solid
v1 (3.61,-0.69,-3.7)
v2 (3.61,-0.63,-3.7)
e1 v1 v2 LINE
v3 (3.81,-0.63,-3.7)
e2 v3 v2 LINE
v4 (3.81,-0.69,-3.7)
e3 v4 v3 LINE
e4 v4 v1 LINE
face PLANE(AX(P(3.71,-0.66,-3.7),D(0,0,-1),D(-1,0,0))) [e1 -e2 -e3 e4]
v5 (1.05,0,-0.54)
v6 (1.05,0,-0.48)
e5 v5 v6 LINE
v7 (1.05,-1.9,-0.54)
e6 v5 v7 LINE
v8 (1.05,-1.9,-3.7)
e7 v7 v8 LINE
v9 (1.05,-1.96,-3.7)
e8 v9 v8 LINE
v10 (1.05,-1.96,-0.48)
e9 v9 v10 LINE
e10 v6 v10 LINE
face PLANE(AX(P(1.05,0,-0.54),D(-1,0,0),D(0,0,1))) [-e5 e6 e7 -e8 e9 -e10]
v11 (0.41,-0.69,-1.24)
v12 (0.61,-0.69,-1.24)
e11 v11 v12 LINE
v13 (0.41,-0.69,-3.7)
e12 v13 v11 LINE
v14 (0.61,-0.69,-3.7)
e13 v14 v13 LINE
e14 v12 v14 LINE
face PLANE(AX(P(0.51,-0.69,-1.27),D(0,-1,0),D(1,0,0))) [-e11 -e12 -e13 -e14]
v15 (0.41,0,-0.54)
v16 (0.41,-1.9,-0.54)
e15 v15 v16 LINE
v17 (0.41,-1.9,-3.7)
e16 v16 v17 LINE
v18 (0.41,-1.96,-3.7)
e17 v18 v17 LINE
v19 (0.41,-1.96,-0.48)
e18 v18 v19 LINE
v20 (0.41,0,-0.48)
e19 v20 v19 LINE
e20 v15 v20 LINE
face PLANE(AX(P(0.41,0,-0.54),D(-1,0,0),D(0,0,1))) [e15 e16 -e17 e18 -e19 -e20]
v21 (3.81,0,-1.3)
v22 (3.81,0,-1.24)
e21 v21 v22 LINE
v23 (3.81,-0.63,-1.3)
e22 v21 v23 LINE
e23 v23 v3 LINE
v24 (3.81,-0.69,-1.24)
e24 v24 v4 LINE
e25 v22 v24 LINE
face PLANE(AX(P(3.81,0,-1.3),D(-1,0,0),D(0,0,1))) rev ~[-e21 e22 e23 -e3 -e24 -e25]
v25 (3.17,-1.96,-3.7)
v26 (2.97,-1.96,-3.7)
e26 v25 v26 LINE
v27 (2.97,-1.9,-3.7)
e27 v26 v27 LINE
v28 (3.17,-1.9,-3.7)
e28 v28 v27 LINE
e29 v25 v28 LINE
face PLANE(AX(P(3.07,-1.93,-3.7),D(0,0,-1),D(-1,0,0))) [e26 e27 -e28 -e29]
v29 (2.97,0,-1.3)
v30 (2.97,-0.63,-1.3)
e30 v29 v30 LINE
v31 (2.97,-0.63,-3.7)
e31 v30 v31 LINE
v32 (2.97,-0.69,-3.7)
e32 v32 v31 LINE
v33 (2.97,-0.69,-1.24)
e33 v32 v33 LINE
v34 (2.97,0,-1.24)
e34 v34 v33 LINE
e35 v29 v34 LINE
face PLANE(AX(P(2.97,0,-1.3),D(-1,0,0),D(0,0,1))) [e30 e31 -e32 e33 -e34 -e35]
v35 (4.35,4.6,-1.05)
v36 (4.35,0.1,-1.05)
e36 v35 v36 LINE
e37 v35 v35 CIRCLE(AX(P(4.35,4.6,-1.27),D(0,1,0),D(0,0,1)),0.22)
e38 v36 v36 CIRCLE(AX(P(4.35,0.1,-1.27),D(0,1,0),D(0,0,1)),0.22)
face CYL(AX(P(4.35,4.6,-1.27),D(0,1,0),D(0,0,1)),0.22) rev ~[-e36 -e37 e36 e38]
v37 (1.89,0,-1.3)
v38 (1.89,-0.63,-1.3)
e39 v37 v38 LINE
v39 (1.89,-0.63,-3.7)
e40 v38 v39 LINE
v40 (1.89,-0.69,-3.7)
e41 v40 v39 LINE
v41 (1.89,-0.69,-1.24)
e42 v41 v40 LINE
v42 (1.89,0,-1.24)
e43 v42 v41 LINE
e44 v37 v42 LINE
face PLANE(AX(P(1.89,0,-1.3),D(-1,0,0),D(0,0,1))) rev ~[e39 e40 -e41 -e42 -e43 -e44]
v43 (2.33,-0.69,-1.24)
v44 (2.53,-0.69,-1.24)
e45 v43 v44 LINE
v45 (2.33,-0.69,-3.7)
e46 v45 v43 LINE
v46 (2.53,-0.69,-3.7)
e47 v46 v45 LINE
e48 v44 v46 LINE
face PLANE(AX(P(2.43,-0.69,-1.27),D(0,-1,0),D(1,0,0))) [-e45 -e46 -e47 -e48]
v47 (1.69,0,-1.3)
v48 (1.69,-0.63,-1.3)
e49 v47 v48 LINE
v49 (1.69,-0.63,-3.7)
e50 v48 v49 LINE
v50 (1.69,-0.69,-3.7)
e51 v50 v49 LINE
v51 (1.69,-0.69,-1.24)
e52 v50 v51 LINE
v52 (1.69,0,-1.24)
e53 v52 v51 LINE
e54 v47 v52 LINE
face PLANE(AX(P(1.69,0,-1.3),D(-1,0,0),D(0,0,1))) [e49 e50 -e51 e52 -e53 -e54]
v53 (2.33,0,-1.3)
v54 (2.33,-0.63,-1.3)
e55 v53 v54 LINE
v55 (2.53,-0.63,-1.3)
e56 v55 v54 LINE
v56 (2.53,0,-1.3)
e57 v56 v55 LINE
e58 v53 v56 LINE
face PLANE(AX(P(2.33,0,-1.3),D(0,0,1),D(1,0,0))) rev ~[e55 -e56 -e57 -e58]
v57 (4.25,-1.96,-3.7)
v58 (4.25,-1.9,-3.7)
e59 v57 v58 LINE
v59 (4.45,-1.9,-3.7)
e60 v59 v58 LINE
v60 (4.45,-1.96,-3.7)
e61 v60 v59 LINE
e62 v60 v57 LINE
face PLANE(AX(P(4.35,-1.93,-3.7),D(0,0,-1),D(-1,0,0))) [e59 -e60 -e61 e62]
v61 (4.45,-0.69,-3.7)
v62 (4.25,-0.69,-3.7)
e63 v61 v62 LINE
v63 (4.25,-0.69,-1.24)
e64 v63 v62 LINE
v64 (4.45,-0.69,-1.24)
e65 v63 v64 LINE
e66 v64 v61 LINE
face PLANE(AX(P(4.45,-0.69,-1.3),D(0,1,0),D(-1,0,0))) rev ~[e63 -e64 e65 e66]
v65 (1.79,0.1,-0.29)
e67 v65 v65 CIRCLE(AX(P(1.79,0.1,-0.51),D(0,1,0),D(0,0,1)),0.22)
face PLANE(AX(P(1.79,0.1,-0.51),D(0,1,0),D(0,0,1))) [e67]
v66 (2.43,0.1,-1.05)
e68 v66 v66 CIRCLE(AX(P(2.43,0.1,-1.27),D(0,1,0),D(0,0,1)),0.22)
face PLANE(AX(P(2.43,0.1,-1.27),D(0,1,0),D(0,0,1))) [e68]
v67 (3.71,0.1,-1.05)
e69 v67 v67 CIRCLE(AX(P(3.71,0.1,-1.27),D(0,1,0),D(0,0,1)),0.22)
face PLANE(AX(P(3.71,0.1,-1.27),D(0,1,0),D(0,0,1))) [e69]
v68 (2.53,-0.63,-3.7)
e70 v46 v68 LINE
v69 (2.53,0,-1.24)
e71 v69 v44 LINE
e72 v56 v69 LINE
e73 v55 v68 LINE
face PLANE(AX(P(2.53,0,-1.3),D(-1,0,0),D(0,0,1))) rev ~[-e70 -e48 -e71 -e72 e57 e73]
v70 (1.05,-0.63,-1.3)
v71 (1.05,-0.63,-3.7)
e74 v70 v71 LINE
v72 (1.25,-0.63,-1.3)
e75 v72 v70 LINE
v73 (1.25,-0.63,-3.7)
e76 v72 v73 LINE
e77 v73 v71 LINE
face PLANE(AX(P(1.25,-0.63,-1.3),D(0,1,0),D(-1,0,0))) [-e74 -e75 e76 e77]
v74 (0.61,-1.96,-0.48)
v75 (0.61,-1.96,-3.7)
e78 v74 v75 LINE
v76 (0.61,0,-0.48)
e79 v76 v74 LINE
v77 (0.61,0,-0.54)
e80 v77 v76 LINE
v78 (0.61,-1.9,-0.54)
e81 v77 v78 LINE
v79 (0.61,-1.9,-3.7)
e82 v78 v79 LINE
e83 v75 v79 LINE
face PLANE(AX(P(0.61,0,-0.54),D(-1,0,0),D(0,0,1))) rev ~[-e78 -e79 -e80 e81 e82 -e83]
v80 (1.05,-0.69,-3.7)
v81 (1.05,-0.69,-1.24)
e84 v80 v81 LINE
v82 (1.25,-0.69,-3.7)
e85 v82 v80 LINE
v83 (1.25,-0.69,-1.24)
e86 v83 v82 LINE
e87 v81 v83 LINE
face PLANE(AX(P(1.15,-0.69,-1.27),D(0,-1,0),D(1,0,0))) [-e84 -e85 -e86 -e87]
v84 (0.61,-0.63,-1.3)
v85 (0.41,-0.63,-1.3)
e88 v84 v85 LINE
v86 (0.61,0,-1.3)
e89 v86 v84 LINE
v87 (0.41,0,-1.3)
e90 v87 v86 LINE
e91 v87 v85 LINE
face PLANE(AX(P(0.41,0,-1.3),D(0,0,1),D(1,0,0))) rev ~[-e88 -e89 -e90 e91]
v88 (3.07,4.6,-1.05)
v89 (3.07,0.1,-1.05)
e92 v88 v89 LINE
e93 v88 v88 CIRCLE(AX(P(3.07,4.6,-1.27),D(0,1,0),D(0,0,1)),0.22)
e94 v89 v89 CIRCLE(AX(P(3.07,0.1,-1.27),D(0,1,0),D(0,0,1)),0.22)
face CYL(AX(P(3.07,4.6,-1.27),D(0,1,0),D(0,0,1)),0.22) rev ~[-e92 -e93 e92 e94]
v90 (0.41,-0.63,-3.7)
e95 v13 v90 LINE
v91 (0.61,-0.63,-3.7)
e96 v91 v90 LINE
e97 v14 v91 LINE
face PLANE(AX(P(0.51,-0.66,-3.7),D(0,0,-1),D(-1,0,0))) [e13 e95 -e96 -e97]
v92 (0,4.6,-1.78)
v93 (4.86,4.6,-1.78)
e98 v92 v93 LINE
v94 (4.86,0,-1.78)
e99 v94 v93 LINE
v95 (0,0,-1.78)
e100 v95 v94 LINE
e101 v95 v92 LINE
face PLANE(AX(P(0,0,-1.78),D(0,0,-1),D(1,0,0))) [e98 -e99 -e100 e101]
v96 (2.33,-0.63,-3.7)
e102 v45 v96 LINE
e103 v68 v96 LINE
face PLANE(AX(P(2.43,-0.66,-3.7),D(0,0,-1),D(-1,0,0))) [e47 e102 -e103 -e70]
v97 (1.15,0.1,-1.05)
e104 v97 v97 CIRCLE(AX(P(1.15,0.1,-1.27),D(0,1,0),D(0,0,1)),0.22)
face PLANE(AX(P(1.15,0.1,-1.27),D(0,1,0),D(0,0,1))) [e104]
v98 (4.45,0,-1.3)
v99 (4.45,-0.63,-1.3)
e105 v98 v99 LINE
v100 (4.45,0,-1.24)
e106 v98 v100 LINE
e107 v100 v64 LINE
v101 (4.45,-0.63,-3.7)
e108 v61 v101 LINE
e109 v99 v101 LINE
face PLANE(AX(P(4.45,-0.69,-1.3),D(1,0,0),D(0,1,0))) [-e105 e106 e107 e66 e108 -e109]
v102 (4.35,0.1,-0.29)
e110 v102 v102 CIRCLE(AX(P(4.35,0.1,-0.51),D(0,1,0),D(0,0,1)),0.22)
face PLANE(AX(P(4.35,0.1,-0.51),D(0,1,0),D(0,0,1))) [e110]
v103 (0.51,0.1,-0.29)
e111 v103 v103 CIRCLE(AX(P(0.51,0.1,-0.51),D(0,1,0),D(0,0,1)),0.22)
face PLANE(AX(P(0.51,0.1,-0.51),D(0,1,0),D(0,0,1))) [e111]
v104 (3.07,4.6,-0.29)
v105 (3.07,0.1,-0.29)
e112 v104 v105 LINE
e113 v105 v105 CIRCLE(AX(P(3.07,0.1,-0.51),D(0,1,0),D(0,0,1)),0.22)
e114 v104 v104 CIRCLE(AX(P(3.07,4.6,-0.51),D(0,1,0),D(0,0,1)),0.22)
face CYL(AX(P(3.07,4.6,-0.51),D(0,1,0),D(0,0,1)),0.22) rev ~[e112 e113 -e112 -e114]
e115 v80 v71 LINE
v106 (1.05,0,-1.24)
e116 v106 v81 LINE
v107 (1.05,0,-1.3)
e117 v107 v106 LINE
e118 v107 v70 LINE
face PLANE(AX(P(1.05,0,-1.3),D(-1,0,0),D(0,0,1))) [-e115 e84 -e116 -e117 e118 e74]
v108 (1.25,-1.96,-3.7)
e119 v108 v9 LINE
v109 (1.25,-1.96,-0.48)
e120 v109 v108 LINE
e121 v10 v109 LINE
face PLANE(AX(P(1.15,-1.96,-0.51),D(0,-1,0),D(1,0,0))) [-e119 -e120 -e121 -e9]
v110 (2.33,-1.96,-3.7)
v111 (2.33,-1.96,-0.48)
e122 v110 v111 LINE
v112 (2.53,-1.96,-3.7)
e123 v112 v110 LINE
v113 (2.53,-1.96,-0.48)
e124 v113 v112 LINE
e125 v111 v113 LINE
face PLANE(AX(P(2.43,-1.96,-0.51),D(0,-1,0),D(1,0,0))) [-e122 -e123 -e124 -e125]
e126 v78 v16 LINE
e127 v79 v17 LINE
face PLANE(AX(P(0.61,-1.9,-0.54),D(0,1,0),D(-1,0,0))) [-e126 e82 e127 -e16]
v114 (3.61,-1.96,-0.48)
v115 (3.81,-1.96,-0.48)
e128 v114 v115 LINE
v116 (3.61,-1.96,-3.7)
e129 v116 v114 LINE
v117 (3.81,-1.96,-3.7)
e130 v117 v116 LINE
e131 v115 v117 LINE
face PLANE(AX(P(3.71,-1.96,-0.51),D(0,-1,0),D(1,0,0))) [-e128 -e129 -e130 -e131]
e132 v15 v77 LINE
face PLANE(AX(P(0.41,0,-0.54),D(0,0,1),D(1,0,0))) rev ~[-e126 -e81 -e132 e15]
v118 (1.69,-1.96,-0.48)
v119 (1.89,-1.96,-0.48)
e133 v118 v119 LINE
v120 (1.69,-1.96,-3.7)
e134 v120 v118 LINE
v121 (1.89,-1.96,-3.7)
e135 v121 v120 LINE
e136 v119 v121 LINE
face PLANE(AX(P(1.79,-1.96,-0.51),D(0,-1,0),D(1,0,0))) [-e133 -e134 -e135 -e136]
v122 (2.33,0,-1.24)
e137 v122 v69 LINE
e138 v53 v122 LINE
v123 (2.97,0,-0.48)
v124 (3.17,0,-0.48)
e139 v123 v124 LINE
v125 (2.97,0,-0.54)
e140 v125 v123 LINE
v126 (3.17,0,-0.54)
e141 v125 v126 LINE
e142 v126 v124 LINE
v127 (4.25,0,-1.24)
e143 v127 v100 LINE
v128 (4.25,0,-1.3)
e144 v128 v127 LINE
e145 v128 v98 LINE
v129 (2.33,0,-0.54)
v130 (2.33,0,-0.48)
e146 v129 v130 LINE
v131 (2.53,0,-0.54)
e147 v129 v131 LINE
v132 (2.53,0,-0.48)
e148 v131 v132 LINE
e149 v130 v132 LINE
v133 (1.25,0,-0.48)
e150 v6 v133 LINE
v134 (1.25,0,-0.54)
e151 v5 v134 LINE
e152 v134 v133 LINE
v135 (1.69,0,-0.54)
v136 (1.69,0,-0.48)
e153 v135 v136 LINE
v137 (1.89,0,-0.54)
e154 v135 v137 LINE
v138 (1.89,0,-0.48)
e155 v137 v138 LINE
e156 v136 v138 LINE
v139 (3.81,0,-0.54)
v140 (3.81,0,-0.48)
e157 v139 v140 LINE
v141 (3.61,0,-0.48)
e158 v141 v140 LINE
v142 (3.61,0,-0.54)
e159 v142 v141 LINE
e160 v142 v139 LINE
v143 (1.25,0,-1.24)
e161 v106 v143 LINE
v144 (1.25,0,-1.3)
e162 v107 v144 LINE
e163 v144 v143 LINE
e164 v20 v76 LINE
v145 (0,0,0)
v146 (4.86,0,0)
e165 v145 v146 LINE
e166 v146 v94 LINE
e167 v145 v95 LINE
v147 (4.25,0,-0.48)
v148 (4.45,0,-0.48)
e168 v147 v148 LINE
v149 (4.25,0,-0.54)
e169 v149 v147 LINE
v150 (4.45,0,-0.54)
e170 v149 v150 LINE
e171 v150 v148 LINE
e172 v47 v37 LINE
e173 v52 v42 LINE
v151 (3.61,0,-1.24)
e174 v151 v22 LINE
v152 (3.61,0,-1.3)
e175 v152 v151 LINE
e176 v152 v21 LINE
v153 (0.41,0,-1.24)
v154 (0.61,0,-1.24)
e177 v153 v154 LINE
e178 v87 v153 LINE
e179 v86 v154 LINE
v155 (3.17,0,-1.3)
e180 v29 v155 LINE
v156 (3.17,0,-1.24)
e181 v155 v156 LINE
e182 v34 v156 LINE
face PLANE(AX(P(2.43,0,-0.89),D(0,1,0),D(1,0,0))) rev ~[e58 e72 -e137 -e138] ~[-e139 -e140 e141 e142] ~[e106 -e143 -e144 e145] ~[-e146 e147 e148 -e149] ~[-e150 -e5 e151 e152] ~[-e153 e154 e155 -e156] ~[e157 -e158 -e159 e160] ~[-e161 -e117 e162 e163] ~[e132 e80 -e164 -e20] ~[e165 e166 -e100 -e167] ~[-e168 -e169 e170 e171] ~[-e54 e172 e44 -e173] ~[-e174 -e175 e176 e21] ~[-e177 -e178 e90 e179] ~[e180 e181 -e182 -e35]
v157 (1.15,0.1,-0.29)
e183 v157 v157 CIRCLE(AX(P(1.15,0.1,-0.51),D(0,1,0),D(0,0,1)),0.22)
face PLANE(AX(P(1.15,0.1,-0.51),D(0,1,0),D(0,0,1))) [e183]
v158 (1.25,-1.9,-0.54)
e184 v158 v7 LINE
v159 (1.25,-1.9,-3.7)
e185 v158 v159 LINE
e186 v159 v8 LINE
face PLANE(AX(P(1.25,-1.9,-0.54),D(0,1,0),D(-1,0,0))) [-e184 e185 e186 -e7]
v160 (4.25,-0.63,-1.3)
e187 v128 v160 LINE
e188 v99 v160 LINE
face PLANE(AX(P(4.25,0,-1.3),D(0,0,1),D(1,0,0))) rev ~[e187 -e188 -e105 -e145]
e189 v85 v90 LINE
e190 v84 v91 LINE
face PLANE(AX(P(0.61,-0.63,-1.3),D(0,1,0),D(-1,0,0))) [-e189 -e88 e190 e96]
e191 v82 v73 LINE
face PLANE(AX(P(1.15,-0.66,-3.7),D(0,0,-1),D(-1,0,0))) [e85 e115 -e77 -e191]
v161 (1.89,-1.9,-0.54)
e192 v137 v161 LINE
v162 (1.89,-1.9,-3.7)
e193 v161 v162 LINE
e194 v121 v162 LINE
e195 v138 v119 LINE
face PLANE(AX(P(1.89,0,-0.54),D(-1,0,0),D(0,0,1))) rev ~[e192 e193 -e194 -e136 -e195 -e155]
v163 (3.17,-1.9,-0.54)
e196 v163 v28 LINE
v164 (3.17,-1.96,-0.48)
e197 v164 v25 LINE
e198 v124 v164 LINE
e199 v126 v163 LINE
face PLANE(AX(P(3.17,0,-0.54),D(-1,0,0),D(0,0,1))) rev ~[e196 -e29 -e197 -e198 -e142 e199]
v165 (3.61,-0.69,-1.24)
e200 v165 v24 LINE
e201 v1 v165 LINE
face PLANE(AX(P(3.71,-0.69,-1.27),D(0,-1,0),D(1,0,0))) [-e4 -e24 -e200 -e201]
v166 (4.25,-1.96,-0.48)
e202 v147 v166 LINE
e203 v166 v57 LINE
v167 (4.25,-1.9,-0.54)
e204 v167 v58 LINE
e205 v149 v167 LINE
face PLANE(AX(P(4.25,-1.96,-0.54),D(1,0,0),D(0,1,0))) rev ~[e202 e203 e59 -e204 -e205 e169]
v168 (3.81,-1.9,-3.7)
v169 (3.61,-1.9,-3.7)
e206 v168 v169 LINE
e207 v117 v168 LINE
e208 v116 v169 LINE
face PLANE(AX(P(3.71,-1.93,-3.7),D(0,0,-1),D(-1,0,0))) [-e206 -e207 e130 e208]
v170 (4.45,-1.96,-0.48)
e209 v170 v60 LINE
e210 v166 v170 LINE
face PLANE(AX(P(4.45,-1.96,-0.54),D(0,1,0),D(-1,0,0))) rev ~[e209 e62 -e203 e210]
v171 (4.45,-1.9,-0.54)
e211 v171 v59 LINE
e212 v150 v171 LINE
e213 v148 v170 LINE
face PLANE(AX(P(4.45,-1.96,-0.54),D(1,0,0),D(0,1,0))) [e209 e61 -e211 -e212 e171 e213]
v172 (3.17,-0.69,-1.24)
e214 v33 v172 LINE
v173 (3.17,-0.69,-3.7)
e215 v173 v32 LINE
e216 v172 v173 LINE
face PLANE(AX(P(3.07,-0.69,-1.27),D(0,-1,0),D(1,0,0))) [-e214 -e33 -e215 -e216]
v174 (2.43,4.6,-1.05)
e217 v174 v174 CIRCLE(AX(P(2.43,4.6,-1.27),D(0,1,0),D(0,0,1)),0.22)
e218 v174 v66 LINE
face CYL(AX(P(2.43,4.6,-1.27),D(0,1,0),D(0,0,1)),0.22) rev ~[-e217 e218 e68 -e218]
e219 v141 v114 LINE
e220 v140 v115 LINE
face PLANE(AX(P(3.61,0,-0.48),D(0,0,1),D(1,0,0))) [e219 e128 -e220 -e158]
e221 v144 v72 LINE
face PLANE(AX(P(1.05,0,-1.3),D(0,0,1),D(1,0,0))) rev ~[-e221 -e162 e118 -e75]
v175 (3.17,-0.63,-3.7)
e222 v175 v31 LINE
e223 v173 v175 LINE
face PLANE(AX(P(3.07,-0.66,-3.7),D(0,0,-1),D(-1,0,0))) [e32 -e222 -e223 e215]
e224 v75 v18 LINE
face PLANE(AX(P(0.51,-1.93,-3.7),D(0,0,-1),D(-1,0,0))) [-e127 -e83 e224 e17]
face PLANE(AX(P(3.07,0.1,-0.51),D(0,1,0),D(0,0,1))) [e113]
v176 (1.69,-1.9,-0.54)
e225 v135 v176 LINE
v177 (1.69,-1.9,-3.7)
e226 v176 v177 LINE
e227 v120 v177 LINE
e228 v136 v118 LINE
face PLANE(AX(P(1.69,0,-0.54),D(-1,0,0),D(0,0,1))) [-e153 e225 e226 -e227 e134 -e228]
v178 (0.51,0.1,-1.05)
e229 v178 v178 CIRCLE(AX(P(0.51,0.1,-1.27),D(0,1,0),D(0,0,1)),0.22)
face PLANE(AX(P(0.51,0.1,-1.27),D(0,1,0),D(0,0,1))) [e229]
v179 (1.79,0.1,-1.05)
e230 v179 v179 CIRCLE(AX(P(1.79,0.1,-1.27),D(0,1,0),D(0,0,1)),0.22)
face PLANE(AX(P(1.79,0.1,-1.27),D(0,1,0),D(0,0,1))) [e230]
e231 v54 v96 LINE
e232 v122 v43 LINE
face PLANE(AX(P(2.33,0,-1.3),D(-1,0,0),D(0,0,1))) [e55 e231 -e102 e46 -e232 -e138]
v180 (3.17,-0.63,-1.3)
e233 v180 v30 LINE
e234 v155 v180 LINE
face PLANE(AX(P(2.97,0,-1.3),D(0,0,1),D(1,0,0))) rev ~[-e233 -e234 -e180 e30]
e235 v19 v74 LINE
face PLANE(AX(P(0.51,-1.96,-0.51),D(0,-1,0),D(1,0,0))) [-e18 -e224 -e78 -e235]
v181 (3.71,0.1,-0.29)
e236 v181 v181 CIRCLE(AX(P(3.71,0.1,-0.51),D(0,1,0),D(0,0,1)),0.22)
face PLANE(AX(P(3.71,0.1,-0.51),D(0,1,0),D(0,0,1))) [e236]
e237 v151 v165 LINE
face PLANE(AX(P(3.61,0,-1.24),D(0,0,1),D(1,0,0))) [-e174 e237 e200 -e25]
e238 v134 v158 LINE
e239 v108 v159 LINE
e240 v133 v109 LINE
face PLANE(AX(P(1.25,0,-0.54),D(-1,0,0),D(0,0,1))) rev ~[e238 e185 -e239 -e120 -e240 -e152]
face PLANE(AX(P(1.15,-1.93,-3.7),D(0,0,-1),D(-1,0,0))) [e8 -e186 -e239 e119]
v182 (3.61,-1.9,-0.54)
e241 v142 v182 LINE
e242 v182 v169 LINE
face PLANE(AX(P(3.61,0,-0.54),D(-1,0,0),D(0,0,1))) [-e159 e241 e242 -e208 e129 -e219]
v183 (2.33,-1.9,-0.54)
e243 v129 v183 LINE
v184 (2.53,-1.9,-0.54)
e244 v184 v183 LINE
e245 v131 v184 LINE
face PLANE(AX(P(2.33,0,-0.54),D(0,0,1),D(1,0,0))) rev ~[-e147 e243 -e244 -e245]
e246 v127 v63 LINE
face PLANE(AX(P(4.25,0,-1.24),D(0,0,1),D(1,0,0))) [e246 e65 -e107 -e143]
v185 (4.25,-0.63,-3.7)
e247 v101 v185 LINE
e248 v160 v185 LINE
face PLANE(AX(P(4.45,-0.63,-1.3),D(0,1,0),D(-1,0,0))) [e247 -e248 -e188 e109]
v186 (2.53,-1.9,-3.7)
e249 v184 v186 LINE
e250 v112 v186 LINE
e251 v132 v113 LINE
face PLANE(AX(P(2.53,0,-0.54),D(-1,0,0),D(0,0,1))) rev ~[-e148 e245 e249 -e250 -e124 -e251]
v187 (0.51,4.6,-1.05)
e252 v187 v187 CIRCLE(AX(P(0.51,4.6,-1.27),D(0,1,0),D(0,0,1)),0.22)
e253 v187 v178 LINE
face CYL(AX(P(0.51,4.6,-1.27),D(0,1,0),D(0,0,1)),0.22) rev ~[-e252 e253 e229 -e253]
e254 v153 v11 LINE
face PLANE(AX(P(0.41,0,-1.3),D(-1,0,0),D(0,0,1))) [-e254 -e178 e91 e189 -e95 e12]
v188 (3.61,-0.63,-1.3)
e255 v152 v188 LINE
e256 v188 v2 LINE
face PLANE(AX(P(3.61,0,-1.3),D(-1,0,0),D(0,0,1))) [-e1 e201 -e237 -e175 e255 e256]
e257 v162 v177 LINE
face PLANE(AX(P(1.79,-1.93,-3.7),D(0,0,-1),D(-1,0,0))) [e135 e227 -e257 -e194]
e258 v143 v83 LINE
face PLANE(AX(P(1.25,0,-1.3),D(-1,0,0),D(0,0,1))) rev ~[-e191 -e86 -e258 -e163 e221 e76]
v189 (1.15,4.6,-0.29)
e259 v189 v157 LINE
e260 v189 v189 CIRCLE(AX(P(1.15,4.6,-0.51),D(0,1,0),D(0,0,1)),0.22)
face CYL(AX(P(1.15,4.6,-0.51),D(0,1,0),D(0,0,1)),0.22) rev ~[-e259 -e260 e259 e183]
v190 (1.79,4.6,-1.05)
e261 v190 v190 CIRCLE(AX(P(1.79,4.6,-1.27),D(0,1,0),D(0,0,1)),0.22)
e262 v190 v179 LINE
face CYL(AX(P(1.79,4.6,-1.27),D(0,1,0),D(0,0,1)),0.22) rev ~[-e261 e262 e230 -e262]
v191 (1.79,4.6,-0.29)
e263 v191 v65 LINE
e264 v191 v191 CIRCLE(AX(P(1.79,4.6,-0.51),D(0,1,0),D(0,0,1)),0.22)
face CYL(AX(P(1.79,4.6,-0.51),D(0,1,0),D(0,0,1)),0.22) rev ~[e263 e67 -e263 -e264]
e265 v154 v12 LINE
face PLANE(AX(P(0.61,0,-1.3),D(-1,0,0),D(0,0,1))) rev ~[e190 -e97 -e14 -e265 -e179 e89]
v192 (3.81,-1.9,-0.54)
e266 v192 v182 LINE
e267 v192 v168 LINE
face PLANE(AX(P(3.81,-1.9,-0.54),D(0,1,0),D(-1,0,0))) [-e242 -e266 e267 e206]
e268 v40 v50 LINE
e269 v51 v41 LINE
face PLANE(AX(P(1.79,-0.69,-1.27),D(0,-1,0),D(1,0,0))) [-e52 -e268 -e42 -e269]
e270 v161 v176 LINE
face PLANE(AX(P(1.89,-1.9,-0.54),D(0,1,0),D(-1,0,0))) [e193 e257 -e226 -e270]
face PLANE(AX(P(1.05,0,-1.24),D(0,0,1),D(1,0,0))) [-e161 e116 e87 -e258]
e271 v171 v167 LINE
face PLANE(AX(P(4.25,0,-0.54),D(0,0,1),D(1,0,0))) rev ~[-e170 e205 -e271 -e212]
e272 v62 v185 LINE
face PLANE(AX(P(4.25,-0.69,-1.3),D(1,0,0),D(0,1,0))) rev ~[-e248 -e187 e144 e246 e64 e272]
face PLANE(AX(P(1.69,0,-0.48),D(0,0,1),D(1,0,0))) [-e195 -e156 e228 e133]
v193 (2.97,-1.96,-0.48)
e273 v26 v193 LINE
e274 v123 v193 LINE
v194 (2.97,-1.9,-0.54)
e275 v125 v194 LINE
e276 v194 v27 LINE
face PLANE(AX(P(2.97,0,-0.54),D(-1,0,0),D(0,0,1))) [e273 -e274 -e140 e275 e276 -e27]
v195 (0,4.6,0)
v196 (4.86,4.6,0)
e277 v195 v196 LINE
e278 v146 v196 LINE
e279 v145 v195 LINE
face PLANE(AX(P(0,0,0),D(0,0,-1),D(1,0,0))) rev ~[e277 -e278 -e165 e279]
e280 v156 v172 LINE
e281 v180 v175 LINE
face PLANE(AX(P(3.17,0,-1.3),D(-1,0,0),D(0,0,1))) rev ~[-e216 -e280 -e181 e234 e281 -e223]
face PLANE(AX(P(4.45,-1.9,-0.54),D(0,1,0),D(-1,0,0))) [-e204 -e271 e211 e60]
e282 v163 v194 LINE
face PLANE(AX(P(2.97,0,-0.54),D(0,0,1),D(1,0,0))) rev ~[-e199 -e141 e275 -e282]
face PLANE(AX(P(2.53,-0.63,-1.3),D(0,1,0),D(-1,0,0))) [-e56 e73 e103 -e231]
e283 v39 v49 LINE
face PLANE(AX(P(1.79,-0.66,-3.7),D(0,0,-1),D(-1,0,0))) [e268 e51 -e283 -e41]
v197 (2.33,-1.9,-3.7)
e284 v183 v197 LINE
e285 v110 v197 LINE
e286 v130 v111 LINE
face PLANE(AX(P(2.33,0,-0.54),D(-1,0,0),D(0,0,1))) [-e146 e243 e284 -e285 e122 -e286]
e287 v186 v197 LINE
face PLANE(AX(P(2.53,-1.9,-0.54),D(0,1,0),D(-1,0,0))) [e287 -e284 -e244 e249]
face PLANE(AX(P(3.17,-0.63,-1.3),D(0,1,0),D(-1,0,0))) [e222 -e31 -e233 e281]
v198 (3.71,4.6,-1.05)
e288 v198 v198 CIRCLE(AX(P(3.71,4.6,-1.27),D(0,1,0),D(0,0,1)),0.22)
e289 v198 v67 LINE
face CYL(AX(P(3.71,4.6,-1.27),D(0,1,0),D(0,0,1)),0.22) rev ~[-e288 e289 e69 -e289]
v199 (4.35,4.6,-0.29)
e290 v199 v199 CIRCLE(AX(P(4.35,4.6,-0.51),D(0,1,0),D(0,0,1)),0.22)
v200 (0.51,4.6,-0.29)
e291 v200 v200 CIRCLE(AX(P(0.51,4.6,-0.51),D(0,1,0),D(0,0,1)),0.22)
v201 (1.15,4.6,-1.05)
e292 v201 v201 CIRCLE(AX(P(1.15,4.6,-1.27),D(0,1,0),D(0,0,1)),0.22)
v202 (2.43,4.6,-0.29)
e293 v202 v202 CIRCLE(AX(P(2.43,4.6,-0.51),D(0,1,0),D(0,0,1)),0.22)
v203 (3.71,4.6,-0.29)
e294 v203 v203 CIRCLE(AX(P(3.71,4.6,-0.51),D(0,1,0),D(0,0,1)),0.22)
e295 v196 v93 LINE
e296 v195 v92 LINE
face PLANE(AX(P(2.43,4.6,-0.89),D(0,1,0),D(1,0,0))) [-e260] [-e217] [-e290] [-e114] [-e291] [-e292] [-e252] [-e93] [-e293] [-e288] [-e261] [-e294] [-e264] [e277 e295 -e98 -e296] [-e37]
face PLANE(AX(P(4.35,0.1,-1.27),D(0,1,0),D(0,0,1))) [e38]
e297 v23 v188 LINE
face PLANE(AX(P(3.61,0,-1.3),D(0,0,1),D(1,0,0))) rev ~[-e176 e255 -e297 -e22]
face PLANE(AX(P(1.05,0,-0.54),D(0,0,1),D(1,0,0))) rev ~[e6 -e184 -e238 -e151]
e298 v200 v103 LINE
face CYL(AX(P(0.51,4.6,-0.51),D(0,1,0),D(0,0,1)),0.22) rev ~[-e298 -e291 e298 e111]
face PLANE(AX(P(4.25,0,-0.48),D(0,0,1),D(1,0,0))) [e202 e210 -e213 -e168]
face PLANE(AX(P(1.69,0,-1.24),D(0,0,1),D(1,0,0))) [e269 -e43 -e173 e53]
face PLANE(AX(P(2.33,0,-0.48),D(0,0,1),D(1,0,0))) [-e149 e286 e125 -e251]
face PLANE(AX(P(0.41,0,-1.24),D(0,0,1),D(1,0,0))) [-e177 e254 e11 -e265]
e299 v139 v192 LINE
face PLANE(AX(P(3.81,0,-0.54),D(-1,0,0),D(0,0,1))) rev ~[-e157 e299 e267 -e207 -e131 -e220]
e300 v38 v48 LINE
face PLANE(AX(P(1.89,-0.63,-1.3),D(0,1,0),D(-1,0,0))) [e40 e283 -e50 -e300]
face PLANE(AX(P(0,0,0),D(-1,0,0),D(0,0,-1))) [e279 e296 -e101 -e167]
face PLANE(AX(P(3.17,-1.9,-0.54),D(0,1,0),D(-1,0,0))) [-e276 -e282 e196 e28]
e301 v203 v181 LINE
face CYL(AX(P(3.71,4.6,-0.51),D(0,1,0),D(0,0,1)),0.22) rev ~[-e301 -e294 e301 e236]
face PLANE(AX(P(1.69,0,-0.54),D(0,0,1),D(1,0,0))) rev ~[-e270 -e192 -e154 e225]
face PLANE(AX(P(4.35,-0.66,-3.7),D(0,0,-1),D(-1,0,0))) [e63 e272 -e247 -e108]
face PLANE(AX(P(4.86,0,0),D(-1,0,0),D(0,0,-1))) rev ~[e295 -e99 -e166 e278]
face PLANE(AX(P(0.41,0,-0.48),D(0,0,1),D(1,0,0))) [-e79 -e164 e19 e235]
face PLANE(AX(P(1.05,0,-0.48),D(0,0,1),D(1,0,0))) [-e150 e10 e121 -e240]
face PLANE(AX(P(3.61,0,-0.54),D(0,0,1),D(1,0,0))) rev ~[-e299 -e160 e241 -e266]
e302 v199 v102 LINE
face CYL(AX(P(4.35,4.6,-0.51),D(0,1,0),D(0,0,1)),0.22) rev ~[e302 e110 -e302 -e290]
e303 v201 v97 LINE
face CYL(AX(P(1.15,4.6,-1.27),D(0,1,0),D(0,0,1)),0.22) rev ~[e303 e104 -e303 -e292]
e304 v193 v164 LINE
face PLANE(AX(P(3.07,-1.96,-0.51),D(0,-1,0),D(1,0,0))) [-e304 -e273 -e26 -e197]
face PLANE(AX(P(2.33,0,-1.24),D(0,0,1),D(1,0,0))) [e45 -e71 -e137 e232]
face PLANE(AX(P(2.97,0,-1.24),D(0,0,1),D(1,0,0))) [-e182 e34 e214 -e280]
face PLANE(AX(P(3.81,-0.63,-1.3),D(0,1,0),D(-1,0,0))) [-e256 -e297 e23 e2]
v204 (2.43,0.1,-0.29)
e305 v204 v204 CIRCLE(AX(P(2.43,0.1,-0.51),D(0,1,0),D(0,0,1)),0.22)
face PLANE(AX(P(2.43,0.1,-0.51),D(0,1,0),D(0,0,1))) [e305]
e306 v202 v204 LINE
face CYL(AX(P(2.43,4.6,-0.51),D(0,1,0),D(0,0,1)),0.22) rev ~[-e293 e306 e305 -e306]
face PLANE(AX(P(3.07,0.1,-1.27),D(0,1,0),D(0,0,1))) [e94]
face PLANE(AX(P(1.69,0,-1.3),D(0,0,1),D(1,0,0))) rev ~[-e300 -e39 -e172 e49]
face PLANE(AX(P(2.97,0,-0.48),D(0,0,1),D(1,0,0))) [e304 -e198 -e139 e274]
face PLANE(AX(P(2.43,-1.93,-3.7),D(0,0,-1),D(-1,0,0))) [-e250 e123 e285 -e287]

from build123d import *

# Parameters (mm, degrees)
SKETCH2_W           = 4.86
SKETCH2_H           = 1.78
BOSS_EXTRUDE1_DEPTH = 4.6
SKETCH3_R           = 0.22
CUT_EXTRUDE1_DEPTH  = 4.5
SKETCH4_W           = 0.2
SKETCH4_H           = 0.06
BOSS_EXTRUDE2_DEPTH = 1.96
SKETCH6_W           = 0.2
SKETCH6_H           = 0.06
BOSS_EXTRUDE3_DEPTH = 0.69
SKETCH7_W           = 0.2
SKETCH7_H           = 0.06
BOSS_EXTRUDE4_DEPTH = 2.4
SKETCH8_W           = 0.2
SKETCH8_H           = 0.06
BOSS_EXTRUDE5_DEPTH = 3.16


with BuildPart() as part:
    # Sketch2 → Boss-Extrude1 (new body)
    with BuildSketch(Plane(origin=(0, 0, 0), x_dir=(1, 0, 0), z_dir=(0, 1, 0))):
        with Locations((2.43, 0.89)):
            Rectangle(SKETCH2_W, SKETCH2_H)
    extrude(amount=BOSS_EXTRUDE1_DEPTH)

    # Sketch3 → Cut-Extrude1 (cut)
    with BuildSketch(Plane(origin=(0, 4.6, 0), x_dir=(1, 0, 0), z_dir=(0, 1, 0))):
        with Locations(Location((0.51, 1.27, 0), (0, 0, 270))):
            Circle(SKETCH3_R)
        with Locations(Location((1.15, 1.27, 0), (0, 0, 270))):
            Circle(SKETCH3_R)
        with Locations(Location((1.79, 1.27, 0), (0, 0, 270))):
            Circle(SKETCH3_R)
        with Locations(Location((2.43, 1.27, 0), (0, 0, 270))):
            Circle(SKETCH3_R)
        with Locations(Location((3.07, 1.27, 0), (0, 0, 270))):
            Circle(SKETCH3_R)
        with Locations(Location((3.71, 1.27, 0), (0, 0, 270))):
            Circle(SKETCH3_R)
        with Locations(Location((4.35, 1.27, 0), (0, 0, 270))):
            Circle(SKETCH3_R)
        with Locations(Location((1.15, 0.51, 0), (0, 0, 270))):
            Circle(SKETCH3_R)
        with Locations(Location((1.79, 0.51, 0), (0, 0, 270))):
            Circle(SKETCH3_R)
        with Locations(Location((2.43, 0.51, 0), (0, 0, 270))):
            Circle(SKETCH3_R)
        with Locations(Location((3.07, 0.51, 0), (0, 0, 270))):
            Circle(SKETCH3_R)
        with Locations(Location((3.71, 0.51, 0), (0, 0, 270))):
            Circle(SKETCH3_R)
        with Locations(Location((4.35, 0.51, 0), (0, 0, 270))):
            Circle(SKETCH3_R)
        with Locations(Location((0.51, 0.51, 0), (0, 0, 270))):
            Circle(SKETCH3_R)
    extrude(amount=-CUT_EXTRUDE1_DEPTH, mode=Mode.SUBTRACT)

    # Sketch4 → Boss-Extrude2 (add)
    with BuildSketch(Plane.XZ):
        with Locations((0.51, -0.51)):
            Rectangle(SKETCH4_W, SKETCH4_H)
        with Locations((1.15, -0.51)):
            Rectangle(SKETCH4_W, SKETCH4_H)
        with Locations((1.79, -0.51)):
            Rectangle(SKETCH4_W, SKETCH4_H)
        with Locations((2.43, -0.51)):
            Rectangle(SKETCH4_W, SKETCH4_H)
        with Locations((3.07, -0.51)):
            Rectangle(SKETCH4_W, SKETCH4_H)
        with Locations((3.71, -0.51)):
            Rectangle(SKETCH4_W, SKETCH4_H)
        with Locations((4.35, -0.51)):
            Rectangle(SKETCH4_W, SKETCH4_H)
    extrude(amount=BOSS_EXTRUDE2_DEPTH)

    # Sketch6 → Boss-Extrude3 (add)
    with BuildSketch(Plane.XZ):
        with Locations((0.51, -1.27)):
            Rectangle(SKETCH6_W, SKETCH6_H)
        with Locations((1.15, -1.27)):
            Rectangle(SKETCH6_W, SKETCH6_H)
        with Locations((1.79, -1.27)):
            Rectangle(SKETCH6_W, SKETCH6_H)
        with Locations((2.43, -1.27)):
            Rectangle(SKETCH6_W, SKETCH6_H)
        with Locations((3.07, -1.27)):
            Rectangle(SKETCH6_W, SKETCH6_H)
        with Locations((3.71, -1.27)):
            Rectangle(SKETCH6_W, SKETCH6_H)
        with Locations((4.35, -1.27)):
            Rectangle(SKETCH6_W, SKETCH6_H)
    extrude(amount=BOSS_EXTRUDE3_DEPTH)

    # Sketch7 → Boss-Extrude4 (add)
    with BuildSketch(Plane(origin=(0, 0, -1.3), x_dir=(-1, 0, 0), z_dir=(0, 0, -1))):
        with Locations((-4.35, -0.66)):
            Rectangle(SKETCH7_W, SKETCH7_H)
        with Locations((-3.71, -0.66)):
            Rectangle(SKETCH7_W, SKETCH7_H)
        with Locations((-3.07, -0.66)):
            Rectangle(SKETCH7_W, SKETCH7_H)
        with Locations((-2.43, -0.66)):
            Rectangle(SKETCH7_W, SKETCH7_H)
        with Locations((-1.79, -0.66)):
            Rectangle(SKETCH7_W, SKETCH7_H)
        with Locations((-1.15, -0.66)):
            Rectangle(SKETCH7_W, SKETCH7_H)
        with Locations((-0.51, -0.66)):
            Rectangle(SKETCH7_W, SKETCH7_H)
    extrude(amount=BOSS_EXTRUDE4_DEPTH)

    # Sketch8 → Boss-Extrude5 (add)
    with BuildSketch(Plane(origin=(0, 0, -0.54), x_dir=(-1, 0, 0), z_dir=(0, 0, -1))):
        with Locations((-4.35, -1.93)):
            Rectangle(SKETCH8_W, SKETCH8_H)
        with Locations((-3.71, -1.93)):
            Rectangle(SKETCH8_W, SKETCH8_H)
        with Locations((-3.07, -1.93)):
            Rectangle(SKETCH8_W, SKETCH8_H)
        with Locations((-2.43, -1.93)):
            Rectangle(SKETCH8_W, SKETCH8_H)
        with Locations((-1.79, -1.93)):
            Rectangle(SKETCH8_W, SKETCH8_H)
        with Locations((-1.15, -1.93)):
            Rectangle(SKETCH8_W, SKETCH8_H)
        with Locations((-0.51, -1.93)):
            Rectangle(SKETCH8_W, SKETCH8_H)
    extrude(amount=BOSS_EXTRUDE5_DEPTH)


solid = part.part
